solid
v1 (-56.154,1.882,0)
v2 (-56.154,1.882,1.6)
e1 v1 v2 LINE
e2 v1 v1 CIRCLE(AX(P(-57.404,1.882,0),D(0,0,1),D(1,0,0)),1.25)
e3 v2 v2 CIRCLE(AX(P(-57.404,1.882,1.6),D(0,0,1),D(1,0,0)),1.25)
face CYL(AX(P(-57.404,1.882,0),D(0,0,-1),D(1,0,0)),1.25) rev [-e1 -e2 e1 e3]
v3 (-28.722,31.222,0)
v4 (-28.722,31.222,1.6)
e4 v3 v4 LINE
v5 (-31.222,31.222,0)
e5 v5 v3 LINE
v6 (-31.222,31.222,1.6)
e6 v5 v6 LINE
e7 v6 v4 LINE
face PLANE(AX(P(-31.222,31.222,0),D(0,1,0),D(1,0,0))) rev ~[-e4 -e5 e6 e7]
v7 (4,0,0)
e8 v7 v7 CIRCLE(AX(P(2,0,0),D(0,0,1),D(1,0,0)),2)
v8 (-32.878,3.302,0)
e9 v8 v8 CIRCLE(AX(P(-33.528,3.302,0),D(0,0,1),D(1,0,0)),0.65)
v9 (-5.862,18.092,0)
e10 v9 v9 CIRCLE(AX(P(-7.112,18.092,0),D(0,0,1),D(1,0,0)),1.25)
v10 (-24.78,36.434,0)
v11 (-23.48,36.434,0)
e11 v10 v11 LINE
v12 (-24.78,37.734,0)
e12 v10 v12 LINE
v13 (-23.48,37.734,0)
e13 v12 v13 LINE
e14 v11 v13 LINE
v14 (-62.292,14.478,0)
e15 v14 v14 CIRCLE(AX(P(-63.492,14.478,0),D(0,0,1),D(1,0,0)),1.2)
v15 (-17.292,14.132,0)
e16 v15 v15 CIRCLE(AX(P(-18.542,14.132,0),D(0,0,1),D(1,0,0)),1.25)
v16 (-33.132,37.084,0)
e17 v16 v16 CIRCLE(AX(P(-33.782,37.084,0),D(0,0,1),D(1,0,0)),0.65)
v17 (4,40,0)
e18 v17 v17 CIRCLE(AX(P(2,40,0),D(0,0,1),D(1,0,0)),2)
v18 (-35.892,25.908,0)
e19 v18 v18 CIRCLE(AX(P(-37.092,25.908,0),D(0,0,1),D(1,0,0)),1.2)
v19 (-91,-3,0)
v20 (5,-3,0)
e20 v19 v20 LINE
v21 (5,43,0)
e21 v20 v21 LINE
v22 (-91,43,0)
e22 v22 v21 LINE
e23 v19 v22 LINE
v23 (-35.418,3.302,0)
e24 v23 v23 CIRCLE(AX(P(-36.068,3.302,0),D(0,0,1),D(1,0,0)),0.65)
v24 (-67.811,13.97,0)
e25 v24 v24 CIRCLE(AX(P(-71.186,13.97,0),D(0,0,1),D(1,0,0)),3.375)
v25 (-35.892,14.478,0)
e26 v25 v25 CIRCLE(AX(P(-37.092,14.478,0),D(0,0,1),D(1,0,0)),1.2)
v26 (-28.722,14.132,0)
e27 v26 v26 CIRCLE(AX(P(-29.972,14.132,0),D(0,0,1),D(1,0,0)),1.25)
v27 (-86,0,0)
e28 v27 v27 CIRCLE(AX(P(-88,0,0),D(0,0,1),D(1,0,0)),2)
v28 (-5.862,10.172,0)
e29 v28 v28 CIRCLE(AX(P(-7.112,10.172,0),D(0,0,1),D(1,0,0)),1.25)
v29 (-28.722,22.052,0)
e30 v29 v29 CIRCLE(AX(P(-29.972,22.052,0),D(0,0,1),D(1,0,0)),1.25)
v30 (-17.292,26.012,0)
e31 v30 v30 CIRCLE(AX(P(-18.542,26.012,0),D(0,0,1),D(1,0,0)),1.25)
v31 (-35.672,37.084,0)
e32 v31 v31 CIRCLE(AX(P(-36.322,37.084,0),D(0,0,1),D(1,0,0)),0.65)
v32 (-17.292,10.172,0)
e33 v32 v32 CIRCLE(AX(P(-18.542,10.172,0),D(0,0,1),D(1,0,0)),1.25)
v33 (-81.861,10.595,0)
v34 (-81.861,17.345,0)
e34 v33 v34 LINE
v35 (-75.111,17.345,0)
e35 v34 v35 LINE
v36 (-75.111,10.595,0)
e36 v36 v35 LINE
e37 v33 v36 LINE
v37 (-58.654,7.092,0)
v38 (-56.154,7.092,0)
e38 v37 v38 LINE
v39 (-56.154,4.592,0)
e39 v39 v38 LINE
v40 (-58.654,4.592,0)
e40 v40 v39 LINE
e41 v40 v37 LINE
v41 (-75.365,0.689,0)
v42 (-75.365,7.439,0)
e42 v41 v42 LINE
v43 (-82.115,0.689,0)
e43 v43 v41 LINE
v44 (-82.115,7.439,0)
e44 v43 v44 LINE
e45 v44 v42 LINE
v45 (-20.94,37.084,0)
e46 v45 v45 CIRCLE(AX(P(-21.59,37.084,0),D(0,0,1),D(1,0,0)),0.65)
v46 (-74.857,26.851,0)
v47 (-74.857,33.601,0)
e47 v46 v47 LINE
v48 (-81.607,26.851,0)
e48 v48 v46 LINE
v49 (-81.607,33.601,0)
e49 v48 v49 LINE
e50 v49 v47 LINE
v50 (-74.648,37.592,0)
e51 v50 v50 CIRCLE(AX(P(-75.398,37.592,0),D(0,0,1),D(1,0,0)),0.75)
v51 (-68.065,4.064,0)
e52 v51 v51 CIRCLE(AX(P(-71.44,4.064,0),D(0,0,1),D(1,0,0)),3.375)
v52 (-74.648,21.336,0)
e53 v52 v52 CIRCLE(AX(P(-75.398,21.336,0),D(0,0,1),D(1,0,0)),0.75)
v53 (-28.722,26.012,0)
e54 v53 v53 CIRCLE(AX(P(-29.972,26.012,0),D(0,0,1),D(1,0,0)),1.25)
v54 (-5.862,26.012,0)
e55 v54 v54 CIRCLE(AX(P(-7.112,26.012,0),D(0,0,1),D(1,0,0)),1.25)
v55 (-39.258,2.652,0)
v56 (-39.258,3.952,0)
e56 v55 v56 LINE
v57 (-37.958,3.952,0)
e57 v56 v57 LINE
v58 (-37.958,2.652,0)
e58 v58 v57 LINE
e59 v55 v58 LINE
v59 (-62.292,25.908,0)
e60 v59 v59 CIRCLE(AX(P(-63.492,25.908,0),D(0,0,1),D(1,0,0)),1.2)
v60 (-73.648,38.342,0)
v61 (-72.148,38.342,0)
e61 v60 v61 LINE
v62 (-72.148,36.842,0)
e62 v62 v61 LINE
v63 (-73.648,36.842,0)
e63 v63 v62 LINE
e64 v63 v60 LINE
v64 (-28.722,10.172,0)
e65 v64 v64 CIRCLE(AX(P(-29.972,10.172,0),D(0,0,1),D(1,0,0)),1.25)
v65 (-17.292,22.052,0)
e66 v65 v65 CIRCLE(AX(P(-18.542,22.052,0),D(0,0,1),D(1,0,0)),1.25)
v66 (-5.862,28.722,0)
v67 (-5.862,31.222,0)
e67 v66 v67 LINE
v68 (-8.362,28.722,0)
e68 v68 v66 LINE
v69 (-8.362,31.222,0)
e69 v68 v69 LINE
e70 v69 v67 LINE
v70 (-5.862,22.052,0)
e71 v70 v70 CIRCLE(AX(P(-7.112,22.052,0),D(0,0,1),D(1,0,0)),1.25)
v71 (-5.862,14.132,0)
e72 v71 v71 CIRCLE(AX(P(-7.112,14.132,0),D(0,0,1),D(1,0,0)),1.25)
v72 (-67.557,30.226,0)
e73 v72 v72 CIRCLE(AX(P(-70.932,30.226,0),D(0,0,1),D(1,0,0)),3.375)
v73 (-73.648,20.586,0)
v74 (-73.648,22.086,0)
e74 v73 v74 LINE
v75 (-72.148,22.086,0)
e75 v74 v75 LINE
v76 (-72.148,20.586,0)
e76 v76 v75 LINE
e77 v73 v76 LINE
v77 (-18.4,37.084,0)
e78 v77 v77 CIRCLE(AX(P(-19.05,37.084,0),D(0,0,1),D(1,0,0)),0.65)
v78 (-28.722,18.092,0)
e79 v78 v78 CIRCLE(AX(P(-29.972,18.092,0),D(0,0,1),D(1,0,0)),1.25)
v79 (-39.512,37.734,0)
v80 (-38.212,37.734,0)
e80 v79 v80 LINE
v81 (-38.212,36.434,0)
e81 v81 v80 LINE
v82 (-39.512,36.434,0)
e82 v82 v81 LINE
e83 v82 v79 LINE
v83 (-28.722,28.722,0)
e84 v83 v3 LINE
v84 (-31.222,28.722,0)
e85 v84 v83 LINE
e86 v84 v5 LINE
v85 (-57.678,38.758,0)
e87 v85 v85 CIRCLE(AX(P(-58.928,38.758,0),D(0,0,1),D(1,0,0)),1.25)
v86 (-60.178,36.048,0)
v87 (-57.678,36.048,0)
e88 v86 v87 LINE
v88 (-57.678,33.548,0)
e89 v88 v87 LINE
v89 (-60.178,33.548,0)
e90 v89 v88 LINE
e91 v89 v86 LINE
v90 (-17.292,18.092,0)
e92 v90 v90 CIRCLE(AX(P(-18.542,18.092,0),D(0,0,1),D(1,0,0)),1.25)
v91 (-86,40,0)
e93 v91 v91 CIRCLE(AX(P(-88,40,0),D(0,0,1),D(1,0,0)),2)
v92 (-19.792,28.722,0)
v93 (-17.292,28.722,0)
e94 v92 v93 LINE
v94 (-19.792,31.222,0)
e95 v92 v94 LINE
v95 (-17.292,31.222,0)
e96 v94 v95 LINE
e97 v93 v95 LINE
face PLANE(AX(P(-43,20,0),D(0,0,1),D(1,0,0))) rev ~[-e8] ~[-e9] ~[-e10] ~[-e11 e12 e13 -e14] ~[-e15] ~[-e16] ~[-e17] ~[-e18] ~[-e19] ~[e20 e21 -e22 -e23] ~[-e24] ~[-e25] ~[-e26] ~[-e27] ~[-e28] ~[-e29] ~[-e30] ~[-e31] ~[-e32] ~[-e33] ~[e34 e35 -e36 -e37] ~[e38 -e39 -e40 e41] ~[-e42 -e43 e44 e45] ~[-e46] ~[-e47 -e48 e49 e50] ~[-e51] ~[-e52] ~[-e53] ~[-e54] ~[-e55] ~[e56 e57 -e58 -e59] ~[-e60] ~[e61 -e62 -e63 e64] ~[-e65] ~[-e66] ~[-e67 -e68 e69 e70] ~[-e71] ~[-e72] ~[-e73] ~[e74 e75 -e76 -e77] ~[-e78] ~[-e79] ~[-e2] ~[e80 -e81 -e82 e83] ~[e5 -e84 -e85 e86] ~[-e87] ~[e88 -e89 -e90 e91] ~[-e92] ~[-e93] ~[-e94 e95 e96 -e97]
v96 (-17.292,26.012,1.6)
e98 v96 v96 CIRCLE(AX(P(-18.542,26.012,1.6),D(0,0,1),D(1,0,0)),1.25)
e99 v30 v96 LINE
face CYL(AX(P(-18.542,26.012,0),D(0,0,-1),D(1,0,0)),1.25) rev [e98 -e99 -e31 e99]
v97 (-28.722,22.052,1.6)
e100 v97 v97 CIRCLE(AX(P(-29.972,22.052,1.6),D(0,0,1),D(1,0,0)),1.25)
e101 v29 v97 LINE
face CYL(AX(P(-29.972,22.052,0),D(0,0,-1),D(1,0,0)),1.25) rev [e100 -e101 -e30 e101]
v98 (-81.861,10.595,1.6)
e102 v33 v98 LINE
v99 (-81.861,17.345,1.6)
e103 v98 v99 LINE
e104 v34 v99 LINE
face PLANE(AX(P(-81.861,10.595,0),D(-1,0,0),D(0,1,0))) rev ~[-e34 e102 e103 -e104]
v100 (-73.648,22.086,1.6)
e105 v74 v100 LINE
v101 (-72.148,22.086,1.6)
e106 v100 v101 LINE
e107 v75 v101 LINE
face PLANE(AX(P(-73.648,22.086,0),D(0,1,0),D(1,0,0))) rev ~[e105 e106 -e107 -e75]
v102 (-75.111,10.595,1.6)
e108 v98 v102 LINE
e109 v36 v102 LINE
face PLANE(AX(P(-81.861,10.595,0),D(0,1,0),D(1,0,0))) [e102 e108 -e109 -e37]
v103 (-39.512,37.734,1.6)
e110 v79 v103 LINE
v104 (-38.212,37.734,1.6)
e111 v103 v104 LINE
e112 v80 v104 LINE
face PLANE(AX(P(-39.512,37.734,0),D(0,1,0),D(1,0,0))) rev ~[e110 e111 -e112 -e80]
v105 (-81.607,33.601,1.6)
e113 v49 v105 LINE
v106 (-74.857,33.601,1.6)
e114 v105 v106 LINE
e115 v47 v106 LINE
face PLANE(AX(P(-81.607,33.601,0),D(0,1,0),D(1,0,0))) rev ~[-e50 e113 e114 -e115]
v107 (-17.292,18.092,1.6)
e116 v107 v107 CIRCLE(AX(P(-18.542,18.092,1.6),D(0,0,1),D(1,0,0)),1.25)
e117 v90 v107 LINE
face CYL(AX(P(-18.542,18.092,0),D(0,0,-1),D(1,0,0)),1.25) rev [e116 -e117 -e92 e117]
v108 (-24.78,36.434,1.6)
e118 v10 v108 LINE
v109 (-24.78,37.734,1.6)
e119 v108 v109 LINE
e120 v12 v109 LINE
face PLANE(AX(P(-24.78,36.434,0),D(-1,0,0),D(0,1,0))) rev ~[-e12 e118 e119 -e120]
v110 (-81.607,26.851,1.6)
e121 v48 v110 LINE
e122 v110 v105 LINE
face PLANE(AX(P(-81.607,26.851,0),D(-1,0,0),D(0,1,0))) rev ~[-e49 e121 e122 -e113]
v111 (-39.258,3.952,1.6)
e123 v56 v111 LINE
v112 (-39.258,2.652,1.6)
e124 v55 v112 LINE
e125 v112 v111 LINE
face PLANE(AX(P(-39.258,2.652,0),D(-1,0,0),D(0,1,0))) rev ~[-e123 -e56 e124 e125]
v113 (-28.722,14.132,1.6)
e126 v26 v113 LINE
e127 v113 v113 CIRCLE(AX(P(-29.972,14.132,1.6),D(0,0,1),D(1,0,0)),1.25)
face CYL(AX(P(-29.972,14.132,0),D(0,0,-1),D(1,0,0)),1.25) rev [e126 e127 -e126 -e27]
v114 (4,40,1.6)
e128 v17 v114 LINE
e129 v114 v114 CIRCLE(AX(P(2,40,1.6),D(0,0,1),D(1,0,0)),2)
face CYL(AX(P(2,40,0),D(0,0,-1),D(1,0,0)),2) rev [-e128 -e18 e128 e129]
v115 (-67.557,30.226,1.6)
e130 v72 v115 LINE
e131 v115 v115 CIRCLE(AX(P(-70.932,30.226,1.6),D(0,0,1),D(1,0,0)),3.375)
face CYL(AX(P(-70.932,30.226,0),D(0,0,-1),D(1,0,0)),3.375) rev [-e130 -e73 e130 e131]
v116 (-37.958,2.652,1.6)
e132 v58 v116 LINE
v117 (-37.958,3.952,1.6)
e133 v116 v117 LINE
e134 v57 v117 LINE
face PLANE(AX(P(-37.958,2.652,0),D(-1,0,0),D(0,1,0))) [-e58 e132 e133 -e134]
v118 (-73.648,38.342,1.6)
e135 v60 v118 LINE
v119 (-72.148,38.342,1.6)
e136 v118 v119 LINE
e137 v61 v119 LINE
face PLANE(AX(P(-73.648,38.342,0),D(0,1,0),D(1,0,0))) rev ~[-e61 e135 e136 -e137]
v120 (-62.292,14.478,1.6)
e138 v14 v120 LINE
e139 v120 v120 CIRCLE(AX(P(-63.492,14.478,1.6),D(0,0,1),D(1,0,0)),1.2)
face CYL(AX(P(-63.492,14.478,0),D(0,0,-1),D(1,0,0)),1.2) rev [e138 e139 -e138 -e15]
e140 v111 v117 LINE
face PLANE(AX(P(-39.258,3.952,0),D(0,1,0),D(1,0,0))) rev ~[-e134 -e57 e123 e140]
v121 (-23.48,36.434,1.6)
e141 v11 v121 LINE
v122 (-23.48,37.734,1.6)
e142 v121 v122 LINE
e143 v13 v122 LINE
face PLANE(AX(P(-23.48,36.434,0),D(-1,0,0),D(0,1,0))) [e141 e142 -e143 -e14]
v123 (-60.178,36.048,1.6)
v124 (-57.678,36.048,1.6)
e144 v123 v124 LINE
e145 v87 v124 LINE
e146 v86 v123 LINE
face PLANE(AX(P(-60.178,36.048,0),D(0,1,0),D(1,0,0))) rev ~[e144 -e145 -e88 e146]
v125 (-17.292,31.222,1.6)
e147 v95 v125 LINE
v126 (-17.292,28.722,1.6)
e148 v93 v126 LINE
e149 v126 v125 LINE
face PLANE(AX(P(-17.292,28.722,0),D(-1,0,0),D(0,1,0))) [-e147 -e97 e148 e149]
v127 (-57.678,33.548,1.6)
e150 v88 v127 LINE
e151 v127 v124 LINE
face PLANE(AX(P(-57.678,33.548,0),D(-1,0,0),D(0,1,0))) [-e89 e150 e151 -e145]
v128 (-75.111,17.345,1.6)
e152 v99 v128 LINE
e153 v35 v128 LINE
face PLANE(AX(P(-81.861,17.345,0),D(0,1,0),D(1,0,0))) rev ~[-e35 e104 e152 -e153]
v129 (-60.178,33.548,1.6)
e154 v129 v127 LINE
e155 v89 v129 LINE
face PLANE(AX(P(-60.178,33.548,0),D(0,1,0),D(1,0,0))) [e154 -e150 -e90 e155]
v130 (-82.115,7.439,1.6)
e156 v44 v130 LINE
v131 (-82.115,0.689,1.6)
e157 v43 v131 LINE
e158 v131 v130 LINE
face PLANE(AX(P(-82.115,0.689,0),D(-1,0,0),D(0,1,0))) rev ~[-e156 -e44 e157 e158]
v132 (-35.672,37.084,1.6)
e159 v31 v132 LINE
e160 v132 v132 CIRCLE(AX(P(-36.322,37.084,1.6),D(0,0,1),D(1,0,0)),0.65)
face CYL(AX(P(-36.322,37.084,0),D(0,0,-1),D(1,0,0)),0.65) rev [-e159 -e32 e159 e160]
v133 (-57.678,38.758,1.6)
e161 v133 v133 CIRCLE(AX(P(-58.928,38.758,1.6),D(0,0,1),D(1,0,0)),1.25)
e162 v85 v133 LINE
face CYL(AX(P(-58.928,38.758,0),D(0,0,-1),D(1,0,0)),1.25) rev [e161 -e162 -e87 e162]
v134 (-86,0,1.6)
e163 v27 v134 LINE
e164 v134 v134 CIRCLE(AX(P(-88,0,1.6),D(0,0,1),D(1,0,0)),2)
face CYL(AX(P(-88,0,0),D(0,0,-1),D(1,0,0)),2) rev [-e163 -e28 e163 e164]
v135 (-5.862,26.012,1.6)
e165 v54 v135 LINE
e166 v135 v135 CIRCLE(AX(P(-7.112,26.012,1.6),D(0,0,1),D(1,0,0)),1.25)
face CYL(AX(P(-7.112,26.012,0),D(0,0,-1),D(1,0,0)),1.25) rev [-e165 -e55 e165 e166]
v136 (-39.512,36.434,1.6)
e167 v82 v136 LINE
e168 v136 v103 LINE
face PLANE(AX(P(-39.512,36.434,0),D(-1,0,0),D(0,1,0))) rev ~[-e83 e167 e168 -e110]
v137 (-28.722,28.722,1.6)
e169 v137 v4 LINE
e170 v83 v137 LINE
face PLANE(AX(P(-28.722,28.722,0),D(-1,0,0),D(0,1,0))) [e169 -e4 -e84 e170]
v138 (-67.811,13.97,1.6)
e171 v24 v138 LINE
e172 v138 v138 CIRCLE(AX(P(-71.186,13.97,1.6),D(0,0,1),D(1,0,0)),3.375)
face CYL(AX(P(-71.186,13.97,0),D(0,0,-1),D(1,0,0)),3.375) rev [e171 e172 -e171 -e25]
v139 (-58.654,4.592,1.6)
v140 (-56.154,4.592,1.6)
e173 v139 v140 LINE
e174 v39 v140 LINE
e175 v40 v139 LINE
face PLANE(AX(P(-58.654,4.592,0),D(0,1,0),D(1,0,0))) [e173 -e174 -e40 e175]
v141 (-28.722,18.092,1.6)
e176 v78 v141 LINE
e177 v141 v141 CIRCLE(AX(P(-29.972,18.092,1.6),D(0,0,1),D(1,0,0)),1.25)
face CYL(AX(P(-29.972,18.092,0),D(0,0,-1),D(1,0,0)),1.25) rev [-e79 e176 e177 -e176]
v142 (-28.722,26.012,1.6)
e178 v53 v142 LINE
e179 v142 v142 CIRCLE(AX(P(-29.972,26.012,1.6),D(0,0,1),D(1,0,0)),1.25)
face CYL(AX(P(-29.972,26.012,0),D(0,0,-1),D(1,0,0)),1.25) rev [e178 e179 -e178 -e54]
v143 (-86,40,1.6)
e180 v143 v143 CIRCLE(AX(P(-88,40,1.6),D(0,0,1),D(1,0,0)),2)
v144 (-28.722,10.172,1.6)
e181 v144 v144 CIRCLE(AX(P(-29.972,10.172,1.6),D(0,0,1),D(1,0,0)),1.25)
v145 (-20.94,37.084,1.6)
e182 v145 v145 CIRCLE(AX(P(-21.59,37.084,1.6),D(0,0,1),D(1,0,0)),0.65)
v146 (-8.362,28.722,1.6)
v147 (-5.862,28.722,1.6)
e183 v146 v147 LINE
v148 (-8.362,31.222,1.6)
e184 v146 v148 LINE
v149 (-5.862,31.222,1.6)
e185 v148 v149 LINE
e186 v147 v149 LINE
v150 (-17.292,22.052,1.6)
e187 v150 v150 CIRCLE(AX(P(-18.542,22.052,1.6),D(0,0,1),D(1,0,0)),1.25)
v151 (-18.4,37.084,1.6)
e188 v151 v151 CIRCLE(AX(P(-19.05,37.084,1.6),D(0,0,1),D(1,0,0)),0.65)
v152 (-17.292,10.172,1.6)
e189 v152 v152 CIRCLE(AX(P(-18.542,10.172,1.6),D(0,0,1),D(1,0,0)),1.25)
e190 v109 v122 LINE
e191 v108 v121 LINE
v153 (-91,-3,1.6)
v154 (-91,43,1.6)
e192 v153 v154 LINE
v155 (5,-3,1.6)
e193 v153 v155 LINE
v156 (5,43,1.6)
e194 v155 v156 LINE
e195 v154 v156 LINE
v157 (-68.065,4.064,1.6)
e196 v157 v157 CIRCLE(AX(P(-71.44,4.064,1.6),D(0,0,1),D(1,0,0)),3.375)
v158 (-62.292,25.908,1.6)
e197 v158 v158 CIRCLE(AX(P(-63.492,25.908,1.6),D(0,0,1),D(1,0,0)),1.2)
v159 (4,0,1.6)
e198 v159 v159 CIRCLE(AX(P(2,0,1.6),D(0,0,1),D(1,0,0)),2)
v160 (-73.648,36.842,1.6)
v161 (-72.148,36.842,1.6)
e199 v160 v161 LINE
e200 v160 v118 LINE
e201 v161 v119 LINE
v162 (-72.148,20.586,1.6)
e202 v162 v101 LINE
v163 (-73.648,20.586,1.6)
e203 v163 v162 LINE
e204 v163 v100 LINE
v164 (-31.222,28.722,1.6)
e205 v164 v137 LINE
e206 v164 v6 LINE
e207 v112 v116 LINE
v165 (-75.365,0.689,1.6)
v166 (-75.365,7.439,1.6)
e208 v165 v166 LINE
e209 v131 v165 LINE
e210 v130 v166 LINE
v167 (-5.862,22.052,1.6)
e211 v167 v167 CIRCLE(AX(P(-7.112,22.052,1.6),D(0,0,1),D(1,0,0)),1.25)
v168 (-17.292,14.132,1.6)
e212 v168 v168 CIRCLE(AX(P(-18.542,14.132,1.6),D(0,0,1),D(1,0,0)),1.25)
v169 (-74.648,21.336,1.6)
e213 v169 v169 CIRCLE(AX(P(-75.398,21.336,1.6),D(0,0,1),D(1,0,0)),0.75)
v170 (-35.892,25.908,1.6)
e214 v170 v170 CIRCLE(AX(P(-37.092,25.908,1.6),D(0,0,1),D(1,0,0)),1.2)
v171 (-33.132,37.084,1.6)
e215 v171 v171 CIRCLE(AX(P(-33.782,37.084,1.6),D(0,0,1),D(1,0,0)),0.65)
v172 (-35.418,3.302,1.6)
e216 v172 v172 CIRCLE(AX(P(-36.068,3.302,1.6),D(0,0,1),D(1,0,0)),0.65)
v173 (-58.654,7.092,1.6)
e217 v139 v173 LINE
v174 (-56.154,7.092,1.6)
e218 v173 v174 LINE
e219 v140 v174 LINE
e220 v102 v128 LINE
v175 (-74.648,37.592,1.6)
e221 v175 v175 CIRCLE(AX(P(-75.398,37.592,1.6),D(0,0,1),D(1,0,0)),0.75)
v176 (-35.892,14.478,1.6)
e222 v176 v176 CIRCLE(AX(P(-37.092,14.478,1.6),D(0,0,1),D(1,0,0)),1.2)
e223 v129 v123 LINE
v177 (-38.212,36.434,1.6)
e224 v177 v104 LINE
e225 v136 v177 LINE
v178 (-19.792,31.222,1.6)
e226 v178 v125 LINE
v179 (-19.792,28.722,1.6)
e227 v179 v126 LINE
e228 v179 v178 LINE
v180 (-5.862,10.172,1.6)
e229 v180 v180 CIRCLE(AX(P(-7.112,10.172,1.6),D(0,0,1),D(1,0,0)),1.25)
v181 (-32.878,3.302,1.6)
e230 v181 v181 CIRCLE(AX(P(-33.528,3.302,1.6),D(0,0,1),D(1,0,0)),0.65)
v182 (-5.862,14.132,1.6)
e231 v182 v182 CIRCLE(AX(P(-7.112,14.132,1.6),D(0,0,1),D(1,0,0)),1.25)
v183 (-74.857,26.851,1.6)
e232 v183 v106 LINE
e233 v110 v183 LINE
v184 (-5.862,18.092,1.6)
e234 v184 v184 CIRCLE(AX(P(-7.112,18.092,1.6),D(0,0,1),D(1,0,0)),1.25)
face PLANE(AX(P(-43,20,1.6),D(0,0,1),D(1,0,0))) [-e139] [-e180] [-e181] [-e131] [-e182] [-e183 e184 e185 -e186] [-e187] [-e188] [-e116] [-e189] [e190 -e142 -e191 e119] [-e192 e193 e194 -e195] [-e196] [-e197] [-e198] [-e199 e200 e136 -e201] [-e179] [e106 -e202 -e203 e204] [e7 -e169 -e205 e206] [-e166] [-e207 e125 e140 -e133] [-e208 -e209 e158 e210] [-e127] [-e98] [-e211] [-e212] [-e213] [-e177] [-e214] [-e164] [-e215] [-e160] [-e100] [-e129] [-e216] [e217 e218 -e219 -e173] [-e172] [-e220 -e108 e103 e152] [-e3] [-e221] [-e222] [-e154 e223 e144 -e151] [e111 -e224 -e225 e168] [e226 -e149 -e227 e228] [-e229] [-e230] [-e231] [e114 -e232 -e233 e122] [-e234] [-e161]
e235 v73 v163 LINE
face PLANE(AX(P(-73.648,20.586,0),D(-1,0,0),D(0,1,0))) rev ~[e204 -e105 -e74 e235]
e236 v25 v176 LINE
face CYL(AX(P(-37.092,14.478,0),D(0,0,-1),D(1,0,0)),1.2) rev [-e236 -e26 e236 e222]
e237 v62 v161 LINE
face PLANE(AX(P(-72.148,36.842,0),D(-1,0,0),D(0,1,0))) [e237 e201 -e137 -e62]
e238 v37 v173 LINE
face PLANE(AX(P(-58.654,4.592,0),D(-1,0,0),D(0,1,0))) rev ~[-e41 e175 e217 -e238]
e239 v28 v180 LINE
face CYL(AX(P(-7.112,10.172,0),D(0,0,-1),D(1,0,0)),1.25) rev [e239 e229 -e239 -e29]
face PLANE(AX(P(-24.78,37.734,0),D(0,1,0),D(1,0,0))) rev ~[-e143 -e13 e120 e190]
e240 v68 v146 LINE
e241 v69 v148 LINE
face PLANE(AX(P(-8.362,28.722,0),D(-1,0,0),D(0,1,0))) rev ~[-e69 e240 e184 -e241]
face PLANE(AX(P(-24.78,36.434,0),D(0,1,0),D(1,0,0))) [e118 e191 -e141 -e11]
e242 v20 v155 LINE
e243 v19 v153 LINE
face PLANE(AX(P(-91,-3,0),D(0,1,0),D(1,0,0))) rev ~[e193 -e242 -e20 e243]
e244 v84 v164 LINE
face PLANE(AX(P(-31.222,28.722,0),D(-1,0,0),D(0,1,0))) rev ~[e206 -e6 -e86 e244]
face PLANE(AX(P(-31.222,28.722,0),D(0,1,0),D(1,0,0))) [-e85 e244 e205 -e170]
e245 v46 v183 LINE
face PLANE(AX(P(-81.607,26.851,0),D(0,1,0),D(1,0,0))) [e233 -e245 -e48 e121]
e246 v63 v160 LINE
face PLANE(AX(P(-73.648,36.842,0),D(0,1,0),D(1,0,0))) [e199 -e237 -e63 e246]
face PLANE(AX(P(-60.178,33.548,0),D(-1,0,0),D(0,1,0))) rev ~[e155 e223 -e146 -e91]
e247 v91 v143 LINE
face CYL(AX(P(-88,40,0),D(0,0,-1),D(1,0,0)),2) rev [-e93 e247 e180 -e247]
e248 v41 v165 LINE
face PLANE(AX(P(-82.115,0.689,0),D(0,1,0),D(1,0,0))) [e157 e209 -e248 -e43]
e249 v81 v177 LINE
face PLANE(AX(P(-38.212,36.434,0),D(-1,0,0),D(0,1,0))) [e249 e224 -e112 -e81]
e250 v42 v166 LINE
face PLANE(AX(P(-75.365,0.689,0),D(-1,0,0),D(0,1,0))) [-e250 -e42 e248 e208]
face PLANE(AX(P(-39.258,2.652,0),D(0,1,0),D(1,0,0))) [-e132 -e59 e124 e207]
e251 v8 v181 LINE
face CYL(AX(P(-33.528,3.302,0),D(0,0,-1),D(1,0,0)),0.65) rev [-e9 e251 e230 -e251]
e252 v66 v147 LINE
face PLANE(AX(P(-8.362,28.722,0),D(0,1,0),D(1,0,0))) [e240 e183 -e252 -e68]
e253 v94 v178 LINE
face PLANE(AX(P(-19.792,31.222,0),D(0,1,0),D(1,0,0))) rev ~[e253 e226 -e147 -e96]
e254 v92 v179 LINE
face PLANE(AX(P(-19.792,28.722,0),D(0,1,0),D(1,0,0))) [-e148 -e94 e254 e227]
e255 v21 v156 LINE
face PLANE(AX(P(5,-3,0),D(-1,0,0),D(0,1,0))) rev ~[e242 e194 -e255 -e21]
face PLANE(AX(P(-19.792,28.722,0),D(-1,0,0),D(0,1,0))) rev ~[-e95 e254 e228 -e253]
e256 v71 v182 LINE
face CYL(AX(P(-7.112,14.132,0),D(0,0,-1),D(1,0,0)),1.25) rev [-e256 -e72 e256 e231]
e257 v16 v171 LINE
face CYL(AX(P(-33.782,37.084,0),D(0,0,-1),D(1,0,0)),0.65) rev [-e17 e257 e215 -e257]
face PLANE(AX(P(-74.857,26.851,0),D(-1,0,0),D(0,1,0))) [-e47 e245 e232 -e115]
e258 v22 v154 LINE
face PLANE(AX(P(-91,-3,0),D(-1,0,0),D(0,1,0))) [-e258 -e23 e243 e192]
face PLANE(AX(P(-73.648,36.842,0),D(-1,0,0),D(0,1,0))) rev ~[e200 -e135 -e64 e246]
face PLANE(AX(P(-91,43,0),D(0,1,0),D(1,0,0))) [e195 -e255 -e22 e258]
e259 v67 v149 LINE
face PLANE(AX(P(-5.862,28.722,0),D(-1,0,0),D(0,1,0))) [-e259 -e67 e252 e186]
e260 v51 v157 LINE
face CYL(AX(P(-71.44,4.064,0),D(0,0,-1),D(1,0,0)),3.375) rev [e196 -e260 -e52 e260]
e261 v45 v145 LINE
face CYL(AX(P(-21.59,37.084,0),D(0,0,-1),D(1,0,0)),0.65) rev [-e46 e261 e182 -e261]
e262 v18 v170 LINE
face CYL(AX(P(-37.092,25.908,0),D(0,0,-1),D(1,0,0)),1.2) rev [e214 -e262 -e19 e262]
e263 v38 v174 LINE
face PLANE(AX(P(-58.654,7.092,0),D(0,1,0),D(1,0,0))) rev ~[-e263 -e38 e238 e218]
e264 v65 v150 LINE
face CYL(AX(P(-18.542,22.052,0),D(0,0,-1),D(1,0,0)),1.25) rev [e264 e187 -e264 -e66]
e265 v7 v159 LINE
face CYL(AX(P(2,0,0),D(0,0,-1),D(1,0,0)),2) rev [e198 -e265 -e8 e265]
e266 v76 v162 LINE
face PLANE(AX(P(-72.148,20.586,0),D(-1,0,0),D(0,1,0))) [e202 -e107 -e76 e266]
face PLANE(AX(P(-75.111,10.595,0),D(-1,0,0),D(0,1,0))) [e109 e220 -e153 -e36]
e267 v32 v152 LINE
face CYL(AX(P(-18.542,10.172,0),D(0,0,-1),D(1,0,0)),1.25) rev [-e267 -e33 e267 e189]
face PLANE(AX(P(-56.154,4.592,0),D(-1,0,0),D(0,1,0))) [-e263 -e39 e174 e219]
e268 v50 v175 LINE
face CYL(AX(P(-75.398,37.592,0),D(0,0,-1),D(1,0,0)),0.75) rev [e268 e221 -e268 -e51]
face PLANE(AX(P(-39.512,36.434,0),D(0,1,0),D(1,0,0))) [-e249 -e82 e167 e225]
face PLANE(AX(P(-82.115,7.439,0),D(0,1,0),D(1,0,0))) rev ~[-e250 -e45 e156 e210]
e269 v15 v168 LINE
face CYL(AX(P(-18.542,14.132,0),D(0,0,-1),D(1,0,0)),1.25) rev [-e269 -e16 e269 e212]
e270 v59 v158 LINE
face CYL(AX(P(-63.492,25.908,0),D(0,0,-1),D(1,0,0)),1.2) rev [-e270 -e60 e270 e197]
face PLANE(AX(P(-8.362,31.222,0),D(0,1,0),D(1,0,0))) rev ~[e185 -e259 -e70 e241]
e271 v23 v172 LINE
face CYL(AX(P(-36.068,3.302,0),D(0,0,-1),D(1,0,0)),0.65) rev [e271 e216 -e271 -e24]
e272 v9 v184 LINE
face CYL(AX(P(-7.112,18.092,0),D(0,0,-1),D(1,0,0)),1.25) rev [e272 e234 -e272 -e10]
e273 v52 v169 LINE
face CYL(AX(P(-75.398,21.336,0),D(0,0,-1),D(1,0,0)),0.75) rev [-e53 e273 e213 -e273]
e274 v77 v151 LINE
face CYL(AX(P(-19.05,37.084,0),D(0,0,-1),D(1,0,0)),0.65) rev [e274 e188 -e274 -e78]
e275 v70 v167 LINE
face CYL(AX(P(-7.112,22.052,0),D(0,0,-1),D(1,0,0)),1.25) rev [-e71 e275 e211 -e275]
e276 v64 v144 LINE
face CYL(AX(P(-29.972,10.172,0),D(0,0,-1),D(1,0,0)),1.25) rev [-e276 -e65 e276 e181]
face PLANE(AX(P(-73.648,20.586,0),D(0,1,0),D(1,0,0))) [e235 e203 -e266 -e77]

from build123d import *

# Parameters (mm, degrees)
MODEL_W            = 96
MODEL_H            = 46
MODEL_R            = 1.25
MODEL_R_2          = 2
MODEL_R_3          = 0.65
MODEL_R_4          = 1.2
MODEL_R_5          = 0.75
MODEL_R_6          = 3.375
MODEL_W_2          = 2.5
MODEL_H_2          = 2.5
MODEL_W_3          = 1.3
MODEL_H_3          = 1.3
MODEL_W_4          = 1.5
MODEL_H_4          = 1.5
MODEL_W_5          = 6.75
MODEL_H_5          = 6.75
BOSS_EXTRU_1_DEPTH = 1.6


with BuildPart() as part:
    # Model → Boss.-Extru.1 (new body)
    with BuildSketch(Plane.XY):
        with Locations((-43, 20)):
            Rectangle(MODEL_W, MODEL_H)
        with Locations((-58.928, 38.758)):
            Circle(MODEL_R, mode=Mode.SUBTRACT)
        with Locations((-57.404, 1.882)):
            Circle(MODEL_R, mode=Mode.SUBTRACT)
        with Locations((-88, 40)):
            Circle(MODEL_R_2, mode=Mode.SUBTRACT)
        with Locations((-88, 0)):
            Circle(MODEL_R_2, mode=Mode.SUBTRACT)
        with Locations((2, 0)):
            Circle(MODEL_R_2, mode=Mode.SUBTRACT)
        with Locations((2, 40)):
            Circle(MODEL_R_2, mode=Mode.SUBTRACT)
        with Locations((-7.112, 26.012)):
            Circle(MODEL_R, mode=Mode.SUBTRACT)
        with Locations((-7.112, 22.052)):
            Circle(MODEL_R, mode=Mode.SUBTRACT)
        with Locations((-7.112, 18.092)):
            Circle(MODEL_R, mode=Mode.SUBTRACT)
        with Locations((-7.112, 14.132)):
            Circle(MODEL_R, mode=Mode.SUBTRACT)
        with Locations((-7.112, 10.172)):
            Circle(MODEL_R, mode=Mode.SUBTRACT)
        with Locations((-18.542, 26.012)):
            Circle(MODEL_R, mode=Mode.SUBTRACT)
        with Locations((-18.542, 22.052)):
            Circle(MODEL_R, mode=Mode.SUBTRACT)
        with Locations((-18.542, 18.092)):
            Circle(MODEL_R, mode=Mode.SUBTRACT)
        with Locations((-18.542, 14.132)):
            Circle(MODEL_R, mode=Mode.SUBTRACT)
        with Locations((-18.542, 10.172)):
            Circle(MODEL_R, mode=Mode.SUBTRACT)
        with Locations((-29.972, 26.012)):
            Circle(MODEL_R, mode=Mode.SUBTRACT)
        with Locations((-29.972, 22.052)):
            Circle(MODEL_R, mode=Mode.SUBTRACT)
        with Locations((-29.972, 18.092)):
            Circle(MODEL_R, mode=Mode.SUBTRACT)
        with Locations((-29.972, 14.132)):
            Circle(MODEL_R, mode=Mode.SUBTRACT)
        with Locations((-29.972, 10.172)):
            Circle(MODEL_R, mode=Mode.SUBTRACT)
        with Locations((-36.068, 3.302)):
            Circle(MODEL_R_3, mode=Mode.SUBTRACT)
        with Locations((-33.528, 3.302)):
            Circle(MODEL_R_3, mode=Mode.SUBTRACT)
        with Locations((-21.59, 37.084)):
            Circle(MODEL_R_3, mode=Mode.SUBTRACT)
        with Locations((-19.05, 37.084)):
            Circle(MODEL_R_3, mode=Mode.SUBTRACT)
        with Locations((-36.322, 37.084)):
            Circle(MODEL_R_3, mode=Mode.SUBTRACT)
        with Locations((-33.782, 37.084)):
            Circle(MODEL_R_3, mode=Mode.SUBTRACT)
        with Locations((-63.492, 14.478)):
            Circle(MODEL_R_4, mode=Mode.SUBTRACT)
        with Locations((-37.092, 14.478)):
            Circle(MODEL_R_4, mode=Mode.SUBTRACT)
        with Locations((-63.492, 25.908)):
            Circle(MODEL_R_4, mode=Mode.SUBTRACT)
        with Locations((-37.092, 25.908)):
            Circle(MODEL_R_4, mode=Mode.SUBTRACT)
        with Locations((-75.398, 21.336)):
            Circle(MODEL_R_5, mode=Mode.SUBTRACT)
        with Locations((-75.398, 37.592)):
            Circle(MODEL_R_5, mode=Mode.SUBTRACT)
        with Locations((-71.44, 4.064)):
            Circle(MODEL_R_6, mode=Mode.SUBTRACT)
        with Locations((-71.186, 13.97)):
            Circle(MODEL_R_6, mode=Mode.SUBTRACT)
        with Locations((-70.932, 30.226)):
            Circle(MODEL_R_6, mode=Mode.SUBTRACT)
        with Locations((-58.928, 34.798)):
            Rectangle(MODEL_W_2, MODEL_H_2, mode=Mode.SUBTRACT)
        with Locations((-57.404, 5.842)):
            Rectangle(MODEL_W_2, MODEL_H_2, mode=Mode.SUBTRACT)
        with Locations((-7.112, 29.972)):
            Rectangle(MODEL_W_2, MODEL_H_2, mode=Mode.SUBTRACT)
        with Locations((-18.542, 29.972)):
            Rectangle(MODEL_W_2, MODEL_H_2, mode=Mode.SUBTRACT)
        with Locations((-29.972, 29.972)):
            Rectangle(MODEL_W_2, MODEL_H_2, mode=Mode.SUBTRACT)
        with Locations((-38.608, 3.302)):
            Rectangle(MODEL_W_3, MODEL_H_3, mode=Mode.SUBTRACT)
        with Locations((-24.13, 37.084)):
            Rectangle(MODEL_W_3, MODEL_H_3, mode=Mode.SUBTRACT)
        with Locations((-38.862, 37.084)):
            Rectangle(MODEL_W_3, MODEL_H_3, mode=Mode.SUBTRACT)
        with Locations((-72.898, 21.336)):
            Rectangle(MODEL_W_4, MODEL_H_4, mode=Mode.SUBTRACT)
        with Locations((-72.898, 37.592)):
            Rectangle(MODEL_W_4, MODEL_H_4, mode=Mode.SUBTRACT)
        with Locations((-78.74, 4.064)):
            Rectangle(MODEL_W_5, MODEL_H_5, mode=Mode.SUBTRACT)
        with Locations((-78.486, 13.97)):
            Rectangle(MODEL_W_5, MODEL_H_5, mode=Mode.SUBTRACT)
        with Locations((-78.232, 30.226)):
            Rectangle(MODEL_W_5, MODEL_H_5, mode=Mode.SUBTRACT)
    extrude(amount=BOSS_EXTRU_1_DEPTH)


solid = part.part
